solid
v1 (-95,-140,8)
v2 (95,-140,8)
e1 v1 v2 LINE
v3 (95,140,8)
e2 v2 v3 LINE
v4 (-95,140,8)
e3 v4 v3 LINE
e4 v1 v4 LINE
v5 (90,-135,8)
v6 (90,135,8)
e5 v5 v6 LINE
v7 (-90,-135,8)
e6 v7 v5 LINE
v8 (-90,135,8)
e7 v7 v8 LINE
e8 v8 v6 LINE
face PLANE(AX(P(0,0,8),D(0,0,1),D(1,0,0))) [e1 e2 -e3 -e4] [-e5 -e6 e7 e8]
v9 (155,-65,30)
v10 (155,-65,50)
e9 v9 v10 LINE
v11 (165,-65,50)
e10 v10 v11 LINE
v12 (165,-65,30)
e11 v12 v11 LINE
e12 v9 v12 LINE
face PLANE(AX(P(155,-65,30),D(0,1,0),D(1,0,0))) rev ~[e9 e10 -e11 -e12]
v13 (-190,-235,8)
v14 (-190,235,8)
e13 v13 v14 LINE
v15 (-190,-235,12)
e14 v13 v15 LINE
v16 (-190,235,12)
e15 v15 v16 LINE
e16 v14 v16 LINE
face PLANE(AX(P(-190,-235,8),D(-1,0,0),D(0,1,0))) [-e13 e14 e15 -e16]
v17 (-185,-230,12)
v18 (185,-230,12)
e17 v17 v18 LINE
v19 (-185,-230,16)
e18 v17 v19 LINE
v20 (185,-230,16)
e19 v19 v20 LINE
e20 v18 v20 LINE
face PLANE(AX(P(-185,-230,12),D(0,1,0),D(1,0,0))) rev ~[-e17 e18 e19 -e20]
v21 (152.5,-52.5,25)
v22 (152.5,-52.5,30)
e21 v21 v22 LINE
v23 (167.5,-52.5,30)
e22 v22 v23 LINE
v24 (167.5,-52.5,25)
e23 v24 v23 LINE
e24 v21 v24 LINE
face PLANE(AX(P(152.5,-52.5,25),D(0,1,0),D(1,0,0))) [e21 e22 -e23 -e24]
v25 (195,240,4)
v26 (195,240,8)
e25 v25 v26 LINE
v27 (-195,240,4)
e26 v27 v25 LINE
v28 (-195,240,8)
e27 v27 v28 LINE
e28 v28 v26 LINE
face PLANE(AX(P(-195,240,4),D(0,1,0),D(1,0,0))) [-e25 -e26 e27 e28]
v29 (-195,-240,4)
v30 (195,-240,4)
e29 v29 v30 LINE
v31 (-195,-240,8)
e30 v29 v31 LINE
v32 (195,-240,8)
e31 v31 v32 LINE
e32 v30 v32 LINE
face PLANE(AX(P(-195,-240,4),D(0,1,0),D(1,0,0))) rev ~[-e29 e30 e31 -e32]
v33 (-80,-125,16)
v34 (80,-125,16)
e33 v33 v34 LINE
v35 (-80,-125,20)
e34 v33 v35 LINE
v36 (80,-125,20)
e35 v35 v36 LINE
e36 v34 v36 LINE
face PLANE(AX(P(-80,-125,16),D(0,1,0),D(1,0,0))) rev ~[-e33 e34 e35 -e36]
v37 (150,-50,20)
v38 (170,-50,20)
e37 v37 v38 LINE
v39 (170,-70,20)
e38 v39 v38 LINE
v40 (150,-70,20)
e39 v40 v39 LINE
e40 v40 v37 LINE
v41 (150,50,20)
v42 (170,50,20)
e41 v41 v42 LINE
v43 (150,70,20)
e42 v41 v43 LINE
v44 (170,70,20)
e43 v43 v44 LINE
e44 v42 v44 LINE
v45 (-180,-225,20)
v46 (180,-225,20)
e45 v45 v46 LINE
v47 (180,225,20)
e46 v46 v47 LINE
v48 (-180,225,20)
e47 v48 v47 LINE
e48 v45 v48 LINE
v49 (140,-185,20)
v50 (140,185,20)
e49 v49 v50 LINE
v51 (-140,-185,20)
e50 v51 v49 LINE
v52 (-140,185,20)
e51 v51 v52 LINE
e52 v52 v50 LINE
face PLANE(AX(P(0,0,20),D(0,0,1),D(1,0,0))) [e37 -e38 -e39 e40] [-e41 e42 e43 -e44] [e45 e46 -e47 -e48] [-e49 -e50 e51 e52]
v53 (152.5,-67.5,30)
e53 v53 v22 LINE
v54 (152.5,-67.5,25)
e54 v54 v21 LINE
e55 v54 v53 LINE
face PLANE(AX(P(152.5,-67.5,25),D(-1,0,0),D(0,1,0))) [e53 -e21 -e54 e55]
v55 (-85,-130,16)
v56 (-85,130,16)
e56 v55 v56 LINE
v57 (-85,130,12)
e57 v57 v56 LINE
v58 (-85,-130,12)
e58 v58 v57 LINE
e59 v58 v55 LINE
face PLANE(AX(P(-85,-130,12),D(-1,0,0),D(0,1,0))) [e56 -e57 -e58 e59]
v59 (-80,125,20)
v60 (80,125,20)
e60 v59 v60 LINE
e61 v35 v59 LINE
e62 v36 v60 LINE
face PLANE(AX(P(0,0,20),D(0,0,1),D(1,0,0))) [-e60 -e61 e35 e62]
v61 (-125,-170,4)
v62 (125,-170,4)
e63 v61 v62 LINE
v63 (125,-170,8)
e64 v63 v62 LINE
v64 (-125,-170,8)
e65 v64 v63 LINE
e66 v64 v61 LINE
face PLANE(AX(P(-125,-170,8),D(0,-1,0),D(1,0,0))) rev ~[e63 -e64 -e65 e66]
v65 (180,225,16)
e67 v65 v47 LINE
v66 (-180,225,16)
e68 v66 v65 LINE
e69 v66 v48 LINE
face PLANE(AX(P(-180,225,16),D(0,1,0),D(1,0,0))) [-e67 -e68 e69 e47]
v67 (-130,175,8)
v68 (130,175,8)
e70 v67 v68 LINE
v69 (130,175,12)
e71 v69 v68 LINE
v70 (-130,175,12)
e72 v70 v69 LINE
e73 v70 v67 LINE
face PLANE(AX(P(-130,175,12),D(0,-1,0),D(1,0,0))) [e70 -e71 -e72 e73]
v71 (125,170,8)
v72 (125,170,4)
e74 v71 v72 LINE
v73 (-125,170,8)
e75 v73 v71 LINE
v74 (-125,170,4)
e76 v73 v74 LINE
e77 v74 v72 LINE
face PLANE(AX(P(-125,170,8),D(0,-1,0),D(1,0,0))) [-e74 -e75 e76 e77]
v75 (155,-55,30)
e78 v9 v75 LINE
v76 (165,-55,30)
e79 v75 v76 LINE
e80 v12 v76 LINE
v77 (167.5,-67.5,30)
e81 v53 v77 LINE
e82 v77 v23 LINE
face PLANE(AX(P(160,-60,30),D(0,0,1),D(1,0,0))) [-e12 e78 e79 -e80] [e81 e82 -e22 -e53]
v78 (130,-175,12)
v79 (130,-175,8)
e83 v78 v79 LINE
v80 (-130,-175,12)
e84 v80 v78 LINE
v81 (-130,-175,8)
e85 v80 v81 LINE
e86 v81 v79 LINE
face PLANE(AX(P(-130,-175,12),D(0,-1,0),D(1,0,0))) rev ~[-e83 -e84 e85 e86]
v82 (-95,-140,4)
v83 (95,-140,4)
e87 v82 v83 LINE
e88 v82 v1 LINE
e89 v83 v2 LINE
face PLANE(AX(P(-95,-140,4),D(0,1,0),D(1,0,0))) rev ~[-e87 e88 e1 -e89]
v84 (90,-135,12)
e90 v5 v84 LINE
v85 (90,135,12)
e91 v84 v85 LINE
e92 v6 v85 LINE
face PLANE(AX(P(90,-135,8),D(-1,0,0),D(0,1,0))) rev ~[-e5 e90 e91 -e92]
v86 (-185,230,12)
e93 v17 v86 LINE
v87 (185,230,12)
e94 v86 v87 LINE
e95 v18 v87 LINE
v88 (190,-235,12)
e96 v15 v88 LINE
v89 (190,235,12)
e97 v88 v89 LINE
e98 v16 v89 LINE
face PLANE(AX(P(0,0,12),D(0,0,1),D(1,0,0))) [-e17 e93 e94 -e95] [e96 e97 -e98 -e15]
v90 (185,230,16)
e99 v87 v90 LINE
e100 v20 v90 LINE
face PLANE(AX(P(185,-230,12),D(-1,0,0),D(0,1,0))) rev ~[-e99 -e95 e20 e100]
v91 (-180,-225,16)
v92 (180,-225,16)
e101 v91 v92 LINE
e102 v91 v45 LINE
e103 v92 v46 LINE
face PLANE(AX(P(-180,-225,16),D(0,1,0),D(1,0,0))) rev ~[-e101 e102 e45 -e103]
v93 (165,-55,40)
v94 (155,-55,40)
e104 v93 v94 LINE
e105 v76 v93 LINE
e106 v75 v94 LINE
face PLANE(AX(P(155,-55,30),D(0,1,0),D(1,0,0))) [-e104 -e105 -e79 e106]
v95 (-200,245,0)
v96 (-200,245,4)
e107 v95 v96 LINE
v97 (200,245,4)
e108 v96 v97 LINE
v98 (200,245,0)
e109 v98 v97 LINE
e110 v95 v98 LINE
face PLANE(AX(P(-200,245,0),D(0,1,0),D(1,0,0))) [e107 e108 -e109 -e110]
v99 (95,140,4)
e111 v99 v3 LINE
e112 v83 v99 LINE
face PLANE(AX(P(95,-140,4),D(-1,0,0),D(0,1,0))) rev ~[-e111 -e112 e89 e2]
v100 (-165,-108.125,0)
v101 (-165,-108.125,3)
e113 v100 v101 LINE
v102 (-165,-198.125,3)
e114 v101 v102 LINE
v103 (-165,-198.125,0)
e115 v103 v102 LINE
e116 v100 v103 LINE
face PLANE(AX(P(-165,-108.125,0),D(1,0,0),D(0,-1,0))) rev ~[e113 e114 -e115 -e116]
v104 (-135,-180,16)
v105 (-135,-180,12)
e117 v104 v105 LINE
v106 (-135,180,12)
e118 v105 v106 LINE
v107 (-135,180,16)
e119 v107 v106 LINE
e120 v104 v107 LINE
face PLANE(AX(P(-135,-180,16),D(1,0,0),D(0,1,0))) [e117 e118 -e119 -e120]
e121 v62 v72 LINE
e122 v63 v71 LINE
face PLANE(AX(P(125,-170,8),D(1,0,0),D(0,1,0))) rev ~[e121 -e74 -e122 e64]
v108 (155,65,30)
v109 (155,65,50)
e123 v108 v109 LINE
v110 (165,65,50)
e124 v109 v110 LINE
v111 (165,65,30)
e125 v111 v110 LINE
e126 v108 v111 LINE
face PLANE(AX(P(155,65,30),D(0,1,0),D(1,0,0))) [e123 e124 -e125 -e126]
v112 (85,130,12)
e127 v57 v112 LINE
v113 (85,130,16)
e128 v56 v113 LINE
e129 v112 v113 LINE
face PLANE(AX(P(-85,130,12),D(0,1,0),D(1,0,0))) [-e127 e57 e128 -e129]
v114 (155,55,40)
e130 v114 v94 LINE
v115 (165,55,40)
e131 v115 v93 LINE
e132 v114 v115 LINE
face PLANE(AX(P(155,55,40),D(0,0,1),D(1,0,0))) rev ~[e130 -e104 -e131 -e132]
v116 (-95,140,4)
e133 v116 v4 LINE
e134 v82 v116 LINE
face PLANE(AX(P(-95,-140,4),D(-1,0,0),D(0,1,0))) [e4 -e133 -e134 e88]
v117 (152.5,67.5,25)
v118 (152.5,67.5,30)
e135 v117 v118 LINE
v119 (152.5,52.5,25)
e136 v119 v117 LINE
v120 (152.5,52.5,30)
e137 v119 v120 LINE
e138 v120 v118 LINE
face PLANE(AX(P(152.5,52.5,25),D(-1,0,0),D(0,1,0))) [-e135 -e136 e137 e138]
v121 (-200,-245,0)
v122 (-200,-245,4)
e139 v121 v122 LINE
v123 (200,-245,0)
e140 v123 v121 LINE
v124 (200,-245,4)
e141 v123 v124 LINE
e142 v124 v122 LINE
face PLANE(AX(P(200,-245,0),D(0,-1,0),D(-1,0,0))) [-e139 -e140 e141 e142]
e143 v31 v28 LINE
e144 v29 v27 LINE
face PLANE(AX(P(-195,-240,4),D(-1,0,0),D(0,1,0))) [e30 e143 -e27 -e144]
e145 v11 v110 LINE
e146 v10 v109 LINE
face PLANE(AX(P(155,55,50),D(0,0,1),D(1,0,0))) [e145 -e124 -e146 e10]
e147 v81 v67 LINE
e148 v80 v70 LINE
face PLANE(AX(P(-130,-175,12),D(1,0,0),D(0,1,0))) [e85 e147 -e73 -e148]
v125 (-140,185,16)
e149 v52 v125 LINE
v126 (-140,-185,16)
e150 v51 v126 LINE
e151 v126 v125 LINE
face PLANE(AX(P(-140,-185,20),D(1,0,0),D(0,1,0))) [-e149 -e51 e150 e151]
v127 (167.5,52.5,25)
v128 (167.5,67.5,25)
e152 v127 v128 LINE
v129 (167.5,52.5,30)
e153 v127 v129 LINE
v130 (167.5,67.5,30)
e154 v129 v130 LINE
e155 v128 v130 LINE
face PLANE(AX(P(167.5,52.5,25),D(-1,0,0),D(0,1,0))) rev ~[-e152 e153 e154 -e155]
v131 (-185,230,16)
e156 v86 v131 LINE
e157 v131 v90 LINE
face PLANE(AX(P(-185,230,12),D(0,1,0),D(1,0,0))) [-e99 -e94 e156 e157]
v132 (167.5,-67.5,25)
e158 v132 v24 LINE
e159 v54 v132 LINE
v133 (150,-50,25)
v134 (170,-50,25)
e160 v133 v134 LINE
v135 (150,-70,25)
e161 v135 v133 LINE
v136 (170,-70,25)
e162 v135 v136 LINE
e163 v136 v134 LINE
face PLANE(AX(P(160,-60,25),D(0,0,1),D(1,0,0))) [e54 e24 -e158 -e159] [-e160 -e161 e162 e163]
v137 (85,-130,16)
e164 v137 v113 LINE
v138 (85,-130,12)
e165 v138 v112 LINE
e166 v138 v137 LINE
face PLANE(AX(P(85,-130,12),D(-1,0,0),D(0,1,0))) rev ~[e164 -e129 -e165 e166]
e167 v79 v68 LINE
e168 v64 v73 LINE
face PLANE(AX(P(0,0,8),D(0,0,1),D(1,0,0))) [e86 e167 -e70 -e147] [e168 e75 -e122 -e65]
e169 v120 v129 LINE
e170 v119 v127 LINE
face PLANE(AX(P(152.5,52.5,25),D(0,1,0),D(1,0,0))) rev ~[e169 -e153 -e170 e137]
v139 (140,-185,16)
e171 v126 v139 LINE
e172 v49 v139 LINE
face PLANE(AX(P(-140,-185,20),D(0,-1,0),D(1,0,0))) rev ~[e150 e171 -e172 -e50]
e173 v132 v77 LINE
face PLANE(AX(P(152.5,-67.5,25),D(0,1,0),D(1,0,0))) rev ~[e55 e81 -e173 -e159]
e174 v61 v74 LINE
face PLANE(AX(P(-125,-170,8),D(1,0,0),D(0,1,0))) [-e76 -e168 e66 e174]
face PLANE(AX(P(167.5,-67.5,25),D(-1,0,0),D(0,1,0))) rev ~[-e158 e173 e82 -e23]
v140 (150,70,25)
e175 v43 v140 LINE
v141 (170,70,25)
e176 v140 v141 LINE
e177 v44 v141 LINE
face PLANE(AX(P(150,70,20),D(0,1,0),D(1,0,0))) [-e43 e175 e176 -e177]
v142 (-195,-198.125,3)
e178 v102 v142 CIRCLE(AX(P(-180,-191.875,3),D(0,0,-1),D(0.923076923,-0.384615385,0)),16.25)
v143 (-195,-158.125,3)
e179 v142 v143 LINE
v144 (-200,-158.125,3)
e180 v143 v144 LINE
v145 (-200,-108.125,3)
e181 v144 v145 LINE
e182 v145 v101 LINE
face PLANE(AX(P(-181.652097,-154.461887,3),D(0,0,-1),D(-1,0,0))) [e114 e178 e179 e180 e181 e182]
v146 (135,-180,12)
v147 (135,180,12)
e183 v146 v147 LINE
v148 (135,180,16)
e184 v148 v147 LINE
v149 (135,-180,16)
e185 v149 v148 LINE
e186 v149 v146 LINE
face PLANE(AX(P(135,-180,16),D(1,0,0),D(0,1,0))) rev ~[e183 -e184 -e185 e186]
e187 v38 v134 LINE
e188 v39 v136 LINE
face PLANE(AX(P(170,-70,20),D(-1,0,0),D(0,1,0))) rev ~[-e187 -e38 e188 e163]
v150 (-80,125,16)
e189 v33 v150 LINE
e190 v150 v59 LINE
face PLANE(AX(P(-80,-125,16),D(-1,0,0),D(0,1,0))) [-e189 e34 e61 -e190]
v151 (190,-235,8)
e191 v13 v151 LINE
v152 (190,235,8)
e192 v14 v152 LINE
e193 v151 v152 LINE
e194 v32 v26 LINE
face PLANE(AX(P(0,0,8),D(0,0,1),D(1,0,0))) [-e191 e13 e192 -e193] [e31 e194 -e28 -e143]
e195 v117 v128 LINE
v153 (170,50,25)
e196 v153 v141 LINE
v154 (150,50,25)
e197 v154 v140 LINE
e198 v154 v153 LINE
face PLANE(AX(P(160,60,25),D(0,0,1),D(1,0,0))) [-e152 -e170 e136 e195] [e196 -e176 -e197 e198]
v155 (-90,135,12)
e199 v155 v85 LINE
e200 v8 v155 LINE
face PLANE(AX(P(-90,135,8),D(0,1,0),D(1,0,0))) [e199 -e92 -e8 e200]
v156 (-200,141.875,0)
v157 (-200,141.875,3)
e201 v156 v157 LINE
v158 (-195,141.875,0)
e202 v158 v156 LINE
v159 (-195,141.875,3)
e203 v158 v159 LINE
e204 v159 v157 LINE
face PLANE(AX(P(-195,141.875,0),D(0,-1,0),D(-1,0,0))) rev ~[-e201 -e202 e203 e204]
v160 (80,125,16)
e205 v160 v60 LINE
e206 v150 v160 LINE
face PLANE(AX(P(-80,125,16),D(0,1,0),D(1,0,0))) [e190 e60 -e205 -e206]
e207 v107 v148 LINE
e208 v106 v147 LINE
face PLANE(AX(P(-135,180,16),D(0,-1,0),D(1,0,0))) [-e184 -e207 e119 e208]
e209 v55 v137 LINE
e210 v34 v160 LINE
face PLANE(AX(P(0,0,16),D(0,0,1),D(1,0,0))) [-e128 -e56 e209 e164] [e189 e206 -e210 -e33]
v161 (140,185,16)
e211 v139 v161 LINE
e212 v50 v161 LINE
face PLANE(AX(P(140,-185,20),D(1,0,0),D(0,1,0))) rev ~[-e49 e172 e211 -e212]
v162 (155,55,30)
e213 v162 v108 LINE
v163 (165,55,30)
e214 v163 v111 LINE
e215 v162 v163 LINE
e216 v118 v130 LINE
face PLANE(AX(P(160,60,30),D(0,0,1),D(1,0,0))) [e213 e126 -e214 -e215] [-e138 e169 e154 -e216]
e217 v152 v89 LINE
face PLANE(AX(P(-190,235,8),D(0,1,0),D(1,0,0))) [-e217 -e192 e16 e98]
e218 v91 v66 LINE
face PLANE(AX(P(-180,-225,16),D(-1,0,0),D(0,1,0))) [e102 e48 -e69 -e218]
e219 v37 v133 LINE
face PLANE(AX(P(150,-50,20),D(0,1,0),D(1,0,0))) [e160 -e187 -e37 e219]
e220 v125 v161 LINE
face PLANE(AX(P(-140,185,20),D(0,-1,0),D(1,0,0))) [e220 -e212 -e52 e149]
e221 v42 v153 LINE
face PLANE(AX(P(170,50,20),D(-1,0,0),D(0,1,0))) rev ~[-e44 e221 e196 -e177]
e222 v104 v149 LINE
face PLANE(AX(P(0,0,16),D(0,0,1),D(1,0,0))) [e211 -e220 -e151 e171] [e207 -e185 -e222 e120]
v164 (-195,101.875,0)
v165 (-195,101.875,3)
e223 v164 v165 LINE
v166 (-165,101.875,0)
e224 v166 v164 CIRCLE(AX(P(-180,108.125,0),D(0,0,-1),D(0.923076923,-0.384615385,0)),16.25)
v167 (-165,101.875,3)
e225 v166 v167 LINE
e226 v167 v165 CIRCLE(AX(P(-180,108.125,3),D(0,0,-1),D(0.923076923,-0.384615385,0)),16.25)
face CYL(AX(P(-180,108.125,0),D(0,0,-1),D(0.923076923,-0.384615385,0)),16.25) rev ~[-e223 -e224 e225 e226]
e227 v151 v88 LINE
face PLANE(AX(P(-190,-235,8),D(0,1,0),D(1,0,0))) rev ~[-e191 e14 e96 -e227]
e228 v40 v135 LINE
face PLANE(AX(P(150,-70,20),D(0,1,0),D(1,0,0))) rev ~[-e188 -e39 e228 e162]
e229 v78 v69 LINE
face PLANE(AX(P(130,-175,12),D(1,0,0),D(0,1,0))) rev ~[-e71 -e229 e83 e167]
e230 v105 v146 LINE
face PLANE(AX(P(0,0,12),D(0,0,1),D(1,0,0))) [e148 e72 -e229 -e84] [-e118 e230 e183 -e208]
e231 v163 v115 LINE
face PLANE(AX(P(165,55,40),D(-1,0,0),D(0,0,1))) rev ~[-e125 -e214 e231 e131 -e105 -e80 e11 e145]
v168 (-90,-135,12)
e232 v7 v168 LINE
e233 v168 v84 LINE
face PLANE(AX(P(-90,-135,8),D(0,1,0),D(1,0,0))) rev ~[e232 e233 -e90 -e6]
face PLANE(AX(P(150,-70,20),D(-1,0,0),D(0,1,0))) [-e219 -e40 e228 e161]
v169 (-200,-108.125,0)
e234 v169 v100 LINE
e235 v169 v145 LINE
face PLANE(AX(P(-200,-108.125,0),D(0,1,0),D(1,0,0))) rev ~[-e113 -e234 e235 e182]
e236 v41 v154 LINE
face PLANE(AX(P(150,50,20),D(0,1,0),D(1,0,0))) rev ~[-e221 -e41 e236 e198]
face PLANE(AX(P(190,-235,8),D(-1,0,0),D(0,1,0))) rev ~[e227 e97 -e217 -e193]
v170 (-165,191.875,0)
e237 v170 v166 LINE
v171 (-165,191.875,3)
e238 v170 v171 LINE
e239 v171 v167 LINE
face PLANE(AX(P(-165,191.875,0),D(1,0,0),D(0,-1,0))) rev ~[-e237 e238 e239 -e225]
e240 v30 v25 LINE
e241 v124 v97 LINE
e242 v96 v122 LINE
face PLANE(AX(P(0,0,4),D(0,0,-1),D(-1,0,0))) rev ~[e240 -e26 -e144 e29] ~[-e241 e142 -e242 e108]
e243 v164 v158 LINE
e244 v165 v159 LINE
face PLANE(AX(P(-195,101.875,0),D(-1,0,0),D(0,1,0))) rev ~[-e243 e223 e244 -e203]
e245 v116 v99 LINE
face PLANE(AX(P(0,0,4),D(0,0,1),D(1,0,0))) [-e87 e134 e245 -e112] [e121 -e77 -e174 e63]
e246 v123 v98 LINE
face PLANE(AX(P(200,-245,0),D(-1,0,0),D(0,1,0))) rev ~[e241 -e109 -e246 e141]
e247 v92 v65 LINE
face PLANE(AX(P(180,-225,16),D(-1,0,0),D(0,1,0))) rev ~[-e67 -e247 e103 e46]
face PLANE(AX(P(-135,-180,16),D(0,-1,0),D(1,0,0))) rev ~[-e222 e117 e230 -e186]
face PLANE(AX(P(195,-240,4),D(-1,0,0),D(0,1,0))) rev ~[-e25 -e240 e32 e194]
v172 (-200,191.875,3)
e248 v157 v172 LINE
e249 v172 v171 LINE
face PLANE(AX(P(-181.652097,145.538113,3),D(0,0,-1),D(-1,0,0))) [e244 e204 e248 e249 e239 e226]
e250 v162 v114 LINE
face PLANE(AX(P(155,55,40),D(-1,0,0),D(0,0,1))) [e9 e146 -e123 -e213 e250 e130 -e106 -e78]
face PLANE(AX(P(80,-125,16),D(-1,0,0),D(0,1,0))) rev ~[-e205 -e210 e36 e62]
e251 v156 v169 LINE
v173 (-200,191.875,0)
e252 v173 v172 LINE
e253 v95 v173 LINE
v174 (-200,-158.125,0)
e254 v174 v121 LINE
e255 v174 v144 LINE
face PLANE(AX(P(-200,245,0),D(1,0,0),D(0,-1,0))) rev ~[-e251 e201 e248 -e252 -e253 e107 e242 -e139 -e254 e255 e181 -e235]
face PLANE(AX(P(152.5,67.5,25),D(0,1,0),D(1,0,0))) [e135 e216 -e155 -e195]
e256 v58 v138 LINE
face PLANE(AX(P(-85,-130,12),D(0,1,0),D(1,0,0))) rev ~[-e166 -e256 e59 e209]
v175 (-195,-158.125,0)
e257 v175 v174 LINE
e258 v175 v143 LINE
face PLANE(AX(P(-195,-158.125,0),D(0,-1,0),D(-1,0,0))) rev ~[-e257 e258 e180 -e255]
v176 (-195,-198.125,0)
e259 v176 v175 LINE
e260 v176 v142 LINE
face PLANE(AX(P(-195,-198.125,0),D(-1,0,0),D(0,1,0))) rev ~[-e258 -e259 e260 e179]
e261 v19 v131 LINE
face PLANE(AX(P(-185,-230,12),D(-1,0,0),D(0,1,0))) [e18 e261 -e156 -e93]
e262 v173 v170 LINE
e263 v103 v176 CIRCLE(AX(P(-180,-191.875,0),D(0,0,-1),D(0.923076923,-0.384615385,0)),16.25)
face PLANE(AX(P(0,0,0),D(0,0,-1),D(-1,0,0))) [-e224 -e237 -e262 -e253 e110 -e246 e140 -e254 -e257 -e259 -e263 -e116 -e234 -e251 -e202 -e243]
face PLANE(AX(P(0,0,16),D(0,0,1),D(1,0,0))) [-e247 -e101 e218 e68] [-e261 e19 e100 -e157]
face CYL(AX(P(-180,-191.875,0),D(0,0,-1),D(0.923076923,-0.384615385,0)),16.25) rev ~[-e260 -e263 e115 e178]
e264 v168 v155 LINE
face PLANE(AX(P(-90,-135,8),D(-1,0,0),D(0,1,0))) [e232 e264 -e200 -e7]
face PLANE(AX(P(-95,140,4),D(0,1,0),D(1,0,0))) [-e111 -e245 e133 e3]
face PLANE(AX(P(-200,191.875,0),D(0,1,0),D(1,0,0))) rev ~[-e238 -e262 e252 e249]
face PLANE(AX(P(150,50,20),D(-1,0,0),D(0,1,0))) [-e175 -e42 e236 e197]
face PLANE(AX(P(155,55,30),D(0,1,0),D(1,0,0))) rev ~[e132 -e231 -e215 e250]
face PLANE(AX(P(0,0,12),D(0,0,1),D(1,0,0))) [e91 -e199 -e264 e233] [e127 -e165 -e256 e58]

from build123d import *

# Parameters (mm, degrees)
BOSS_EXTRUDE2_DEPTH  = 4
SKETCH2_W            = 390
SKETCH2_H            = 480
BOSS_EXTRUDE3_DEPTH  = 4
SKETCH3_W            = 380
SKETCH3_H            = 470
BOSS_EXTRUDE4_DEPTH  = 4
SKETCH4_W            = 370
SKETCH4_H            = 460
BOSS_EXTRUDE5_DEPTH  = 4
SKETCH5_W            = 360
SKETCH5_H            = 450
BOSS_EXTRUDE6_DEPTH  = 4
SKETCH6_W            = 280
SKETCH6_H            = 370
CUT_EXTRUDE1_DEPTH   = 4
SKETCH7_W            = 270
SKETCH7_H            = 360
CUT_EXTRUDE2_DEPTH   = 4
SKETCH8_W            = 260
SKETCH8_H            = 350
CUT_EXTRUDE3_DEPTH   = 4
SKETCH9_W            = 250
SKETCH9_H            = 340
CUT_EXTRUDE4_DEPTH   = 4
SKETCH11_W           = 190
SKETCH11_H           = 280
BOSS_EXTRUDE7_DEPTH  = 4
SKETCH12_W           = 180
SKETCH12_H           = 270
BOSS_EXTRUDE8_DEPTH  = 4
SKETCH13_W           = 170
SKETCH13_H           = 260
BOSS_EXTRUDE9_DEPTH  = 4
SKETCH14_W           = 160
SKETCH14_H           = 250
BOSS_EXTRUDE10_DEPTH = 4
SKETCH15_W           = 20
SKETCH15_H           = 20
BOSS_EXTRUDE11_DEPTH = 5
SKETCH16_W           = 15
SKETCH16_H           = 15
BOSS_EXTRUDE12_DEPTH = 5
SKETCH17_W           = 10
SKETCH17_H           = 10
BOSS_EXTRUDE13_DEPTH = 20
BOSS_EXTRUDE14_REACH = 302
SKETCH18_W           = 10
SKETCH18_H           = 10
CUT_EXTRUDE6_DEPTH   = 3


with BuildPart() as part:
    # Sketch1 → Boss-Extrude2 (new body)
    with BuildSketch(Plane.XY):
        Polygon((200, 0), (200, -20), (200, -245), (-200, -245), (-200, -20), (-200, 0), (-200, 245), (200, 245), align=None)
    extrude(amount=BOSS_EXTRUDE2_DEPTH)

    # Sketch2 → Boss-Extrude3 (add)
    with BuildSketch(Plane.XY.offset(4)):
        Rectangle(SKETCH2_W, SKETCH2_H)
    extrude(amount=BOSS_EXTRUDE3_DEPTH)

    # Sketch3 → Boss-Extrude4 (add)
    with BuildSketch(Plane.XY.offset(8)):
        Rectangle(SKETCH3_W, SKETCH3_H)
    extrude(amount=BOSS_EXTRUDE4_DEPTH)

    # Sketch4 → Boss-Extrude5 (add)
    with BuildSketch(Plane.XY.offset(12)):
        Rectangle(SKETCH4_W, SKETCH4_H)
    extrude(amount=BOSS_EXTRUDE5_DEPTH)

    # Sketch5 → Boss-Extrude6 (add)
    with BuildSketch(Plane.XY.offset(16)):
        Rectangle(SKETCH5_W, SKETCH5_H)
    extrude(amount=BOSS_EXTRUDE6_DEPTH)

    # Sketch6 → Cut-Extrude1 (cut)
    with BuildSketch(Plane.XY.offset(20)):
        Rectangle(SKETCH6_W, SKETCH6_H)
    extrude(amount=-CUT_EXTRUDE1_DEPTH, mode=Mode.SUBTRACT)

    # Sketch7 → Cut-Extrude2 (cut)
    with BuildSketch(Plane.XY.offset(16)):
        Rectangle(SKETCH7_W, SKETCH7_H)
    extrude(amount=-CUT_EXTRUDE2_DEPTH, mode=Mode.SUBTRACT)

    # Sketch8 → Cut-Extrude3 (cut)
    with BuildSketch(Plane.XY.offset(12)):
        Rectangle(SKETCH8_W, SKETCH8_H)
    extrude(amount=-CUT_EXTRUDE3_DEPTH, mode=Mode.SUBTRACT)

    # Sketch9 → Cut-Extrude4 (cut)
    with BuildSketch(Plane.XY.offset(8)):
        Rectangle(SKETCH9_W, SKETCH9_H)
    extrude(amount=-CUT_EXTRUDE4_DEPTH, mode=Mode.SUBTRACT)

    # Sketch11 → Boss-Extrude7 (add)
    with BuildSketch(Plane.XY.offset(4)):
        Rectangle(SKETCH11_W, SKETCH11_H)
    extrude(amount=BOSS_EXTRUDE7_DEPTH)

    # Sketch12 → Boss-Extrude8 (add)
    with BuildSketch(Plane.XY.offset(8)):
        Rectangle(SKETCH12_W, SKETCH12_H)
    extrude(amount=BOSS_EXTRUDE8_DEPTH)

    # Sketch13 → Boss-Extrude9 (add)
    with BuildSketch(Plane.XY.offset(12)):
        Rectangle(SKETCH13_W, SKETCH13_H)
    extrude(amount=BOSS_EXTRUDE9_DEPTH)

    # Sketch14 → Boss-Extrude10 (add)
    with BuildSketch(Plane.XY.offset(16)):
        Rectangle(SKETCH14_W, SKETCH14_H)
    extrude(amount=BOSS_EXTRUDE10_DEPTH)

    # Sketch15 → Boss-Extrude11 (add)
    with BuildSketch(Plane.XY.offset(20)):
        with Locations((160, 60)):
            Rectangle(SKETCH15_W, SKETCH15_H)
        with Locations((160, -60)):
            Rectangle(SKETCH15_W, SKETCH15_H)
    extrude(amount=BOSS_EXTRUDE11_DEPTH)

    # Sketch16 → Boss-Extrude12 (add)
    with BuildSketch(Plane.XY.offset(25)):
        with Locations((160, 60)):
            Rectangle(SKETCH16_W, SKETCH16_H)
        with Locations((160, -60)):
            Rectangle(SKETCH16_W, SKETCH16_H)
    extrude(amount=BOSS_EXTRUDE12_DEPTH)

    # Sketch17 → Boss-Extrude13 (add)
    with BuildSketch(Plane.XY.offset(30)):
        with Locations((160, 60)):
            Rectangle(SKETCH17_W, SKETCH17_H)
        with Locations((160, -60)):
            Rectangle(SKETCH17_W, SKETCH17_H)
    extrude(amount=BOSS_EXTRUDE13_DEPTH)

    # Sketch18 → Boss-Extrude14 (add, up to next)
    with BuildSketch(Plane.XZ.offset(-55), mode=Mode.PRIVATE) as boss_extrude14_sk1:
        with Locations((160, 45)):
            Rectangle(SKETCH18_W, SKETCH18_H)
    boss_extrude14_tool1 = extrude(boss_extrude14_sk1.sketch, amount=BOSS_EXTRUDE14_REACH, mode=Mode.PRIVATE) - part.part
    add(boss_extrude14_tool1.solids().sort_by_distance((160, 55, 45))[0])

    # Sketch19 → Cut-Extrude6 (cut)
    with BuildSketch(Plane(origin=(0, 0, 0), x_dir=(-1, 0, 0), z_dir=(0, 0, -1))):
        with BuildLine():
            Line((165, 191.875), (165, 101.875))
            ThreePointArc((165, 101.875), (180, 91.875), (195, 101.875))
            Line((195, 101.875), (195, 141.875))
            Line((195, 141.875), (200, 141.875))
            Line((200, 141.875), (200, 191.875))
            Line((200, 191.875), (165, 191.875))
        make_face()
        with BuildLine():
            Line((165, -108.125), (165, -198.125))
            ThreePointArc((165, -198.125), (180, -208.125), (195, -198.125))
            Line((195, -198.125), (195, -158.125))
            Line((195, -158.125), (200, -158.125))
            Line((200, -158.125), (200, -108.125))
            Line((200, -108.125), (165, -108.125))
        make_face()
    extrude(amount=-CUT_EXTRUDE6_DEPTH, mode=Mode.SUBTRACT)


solid = part.part
